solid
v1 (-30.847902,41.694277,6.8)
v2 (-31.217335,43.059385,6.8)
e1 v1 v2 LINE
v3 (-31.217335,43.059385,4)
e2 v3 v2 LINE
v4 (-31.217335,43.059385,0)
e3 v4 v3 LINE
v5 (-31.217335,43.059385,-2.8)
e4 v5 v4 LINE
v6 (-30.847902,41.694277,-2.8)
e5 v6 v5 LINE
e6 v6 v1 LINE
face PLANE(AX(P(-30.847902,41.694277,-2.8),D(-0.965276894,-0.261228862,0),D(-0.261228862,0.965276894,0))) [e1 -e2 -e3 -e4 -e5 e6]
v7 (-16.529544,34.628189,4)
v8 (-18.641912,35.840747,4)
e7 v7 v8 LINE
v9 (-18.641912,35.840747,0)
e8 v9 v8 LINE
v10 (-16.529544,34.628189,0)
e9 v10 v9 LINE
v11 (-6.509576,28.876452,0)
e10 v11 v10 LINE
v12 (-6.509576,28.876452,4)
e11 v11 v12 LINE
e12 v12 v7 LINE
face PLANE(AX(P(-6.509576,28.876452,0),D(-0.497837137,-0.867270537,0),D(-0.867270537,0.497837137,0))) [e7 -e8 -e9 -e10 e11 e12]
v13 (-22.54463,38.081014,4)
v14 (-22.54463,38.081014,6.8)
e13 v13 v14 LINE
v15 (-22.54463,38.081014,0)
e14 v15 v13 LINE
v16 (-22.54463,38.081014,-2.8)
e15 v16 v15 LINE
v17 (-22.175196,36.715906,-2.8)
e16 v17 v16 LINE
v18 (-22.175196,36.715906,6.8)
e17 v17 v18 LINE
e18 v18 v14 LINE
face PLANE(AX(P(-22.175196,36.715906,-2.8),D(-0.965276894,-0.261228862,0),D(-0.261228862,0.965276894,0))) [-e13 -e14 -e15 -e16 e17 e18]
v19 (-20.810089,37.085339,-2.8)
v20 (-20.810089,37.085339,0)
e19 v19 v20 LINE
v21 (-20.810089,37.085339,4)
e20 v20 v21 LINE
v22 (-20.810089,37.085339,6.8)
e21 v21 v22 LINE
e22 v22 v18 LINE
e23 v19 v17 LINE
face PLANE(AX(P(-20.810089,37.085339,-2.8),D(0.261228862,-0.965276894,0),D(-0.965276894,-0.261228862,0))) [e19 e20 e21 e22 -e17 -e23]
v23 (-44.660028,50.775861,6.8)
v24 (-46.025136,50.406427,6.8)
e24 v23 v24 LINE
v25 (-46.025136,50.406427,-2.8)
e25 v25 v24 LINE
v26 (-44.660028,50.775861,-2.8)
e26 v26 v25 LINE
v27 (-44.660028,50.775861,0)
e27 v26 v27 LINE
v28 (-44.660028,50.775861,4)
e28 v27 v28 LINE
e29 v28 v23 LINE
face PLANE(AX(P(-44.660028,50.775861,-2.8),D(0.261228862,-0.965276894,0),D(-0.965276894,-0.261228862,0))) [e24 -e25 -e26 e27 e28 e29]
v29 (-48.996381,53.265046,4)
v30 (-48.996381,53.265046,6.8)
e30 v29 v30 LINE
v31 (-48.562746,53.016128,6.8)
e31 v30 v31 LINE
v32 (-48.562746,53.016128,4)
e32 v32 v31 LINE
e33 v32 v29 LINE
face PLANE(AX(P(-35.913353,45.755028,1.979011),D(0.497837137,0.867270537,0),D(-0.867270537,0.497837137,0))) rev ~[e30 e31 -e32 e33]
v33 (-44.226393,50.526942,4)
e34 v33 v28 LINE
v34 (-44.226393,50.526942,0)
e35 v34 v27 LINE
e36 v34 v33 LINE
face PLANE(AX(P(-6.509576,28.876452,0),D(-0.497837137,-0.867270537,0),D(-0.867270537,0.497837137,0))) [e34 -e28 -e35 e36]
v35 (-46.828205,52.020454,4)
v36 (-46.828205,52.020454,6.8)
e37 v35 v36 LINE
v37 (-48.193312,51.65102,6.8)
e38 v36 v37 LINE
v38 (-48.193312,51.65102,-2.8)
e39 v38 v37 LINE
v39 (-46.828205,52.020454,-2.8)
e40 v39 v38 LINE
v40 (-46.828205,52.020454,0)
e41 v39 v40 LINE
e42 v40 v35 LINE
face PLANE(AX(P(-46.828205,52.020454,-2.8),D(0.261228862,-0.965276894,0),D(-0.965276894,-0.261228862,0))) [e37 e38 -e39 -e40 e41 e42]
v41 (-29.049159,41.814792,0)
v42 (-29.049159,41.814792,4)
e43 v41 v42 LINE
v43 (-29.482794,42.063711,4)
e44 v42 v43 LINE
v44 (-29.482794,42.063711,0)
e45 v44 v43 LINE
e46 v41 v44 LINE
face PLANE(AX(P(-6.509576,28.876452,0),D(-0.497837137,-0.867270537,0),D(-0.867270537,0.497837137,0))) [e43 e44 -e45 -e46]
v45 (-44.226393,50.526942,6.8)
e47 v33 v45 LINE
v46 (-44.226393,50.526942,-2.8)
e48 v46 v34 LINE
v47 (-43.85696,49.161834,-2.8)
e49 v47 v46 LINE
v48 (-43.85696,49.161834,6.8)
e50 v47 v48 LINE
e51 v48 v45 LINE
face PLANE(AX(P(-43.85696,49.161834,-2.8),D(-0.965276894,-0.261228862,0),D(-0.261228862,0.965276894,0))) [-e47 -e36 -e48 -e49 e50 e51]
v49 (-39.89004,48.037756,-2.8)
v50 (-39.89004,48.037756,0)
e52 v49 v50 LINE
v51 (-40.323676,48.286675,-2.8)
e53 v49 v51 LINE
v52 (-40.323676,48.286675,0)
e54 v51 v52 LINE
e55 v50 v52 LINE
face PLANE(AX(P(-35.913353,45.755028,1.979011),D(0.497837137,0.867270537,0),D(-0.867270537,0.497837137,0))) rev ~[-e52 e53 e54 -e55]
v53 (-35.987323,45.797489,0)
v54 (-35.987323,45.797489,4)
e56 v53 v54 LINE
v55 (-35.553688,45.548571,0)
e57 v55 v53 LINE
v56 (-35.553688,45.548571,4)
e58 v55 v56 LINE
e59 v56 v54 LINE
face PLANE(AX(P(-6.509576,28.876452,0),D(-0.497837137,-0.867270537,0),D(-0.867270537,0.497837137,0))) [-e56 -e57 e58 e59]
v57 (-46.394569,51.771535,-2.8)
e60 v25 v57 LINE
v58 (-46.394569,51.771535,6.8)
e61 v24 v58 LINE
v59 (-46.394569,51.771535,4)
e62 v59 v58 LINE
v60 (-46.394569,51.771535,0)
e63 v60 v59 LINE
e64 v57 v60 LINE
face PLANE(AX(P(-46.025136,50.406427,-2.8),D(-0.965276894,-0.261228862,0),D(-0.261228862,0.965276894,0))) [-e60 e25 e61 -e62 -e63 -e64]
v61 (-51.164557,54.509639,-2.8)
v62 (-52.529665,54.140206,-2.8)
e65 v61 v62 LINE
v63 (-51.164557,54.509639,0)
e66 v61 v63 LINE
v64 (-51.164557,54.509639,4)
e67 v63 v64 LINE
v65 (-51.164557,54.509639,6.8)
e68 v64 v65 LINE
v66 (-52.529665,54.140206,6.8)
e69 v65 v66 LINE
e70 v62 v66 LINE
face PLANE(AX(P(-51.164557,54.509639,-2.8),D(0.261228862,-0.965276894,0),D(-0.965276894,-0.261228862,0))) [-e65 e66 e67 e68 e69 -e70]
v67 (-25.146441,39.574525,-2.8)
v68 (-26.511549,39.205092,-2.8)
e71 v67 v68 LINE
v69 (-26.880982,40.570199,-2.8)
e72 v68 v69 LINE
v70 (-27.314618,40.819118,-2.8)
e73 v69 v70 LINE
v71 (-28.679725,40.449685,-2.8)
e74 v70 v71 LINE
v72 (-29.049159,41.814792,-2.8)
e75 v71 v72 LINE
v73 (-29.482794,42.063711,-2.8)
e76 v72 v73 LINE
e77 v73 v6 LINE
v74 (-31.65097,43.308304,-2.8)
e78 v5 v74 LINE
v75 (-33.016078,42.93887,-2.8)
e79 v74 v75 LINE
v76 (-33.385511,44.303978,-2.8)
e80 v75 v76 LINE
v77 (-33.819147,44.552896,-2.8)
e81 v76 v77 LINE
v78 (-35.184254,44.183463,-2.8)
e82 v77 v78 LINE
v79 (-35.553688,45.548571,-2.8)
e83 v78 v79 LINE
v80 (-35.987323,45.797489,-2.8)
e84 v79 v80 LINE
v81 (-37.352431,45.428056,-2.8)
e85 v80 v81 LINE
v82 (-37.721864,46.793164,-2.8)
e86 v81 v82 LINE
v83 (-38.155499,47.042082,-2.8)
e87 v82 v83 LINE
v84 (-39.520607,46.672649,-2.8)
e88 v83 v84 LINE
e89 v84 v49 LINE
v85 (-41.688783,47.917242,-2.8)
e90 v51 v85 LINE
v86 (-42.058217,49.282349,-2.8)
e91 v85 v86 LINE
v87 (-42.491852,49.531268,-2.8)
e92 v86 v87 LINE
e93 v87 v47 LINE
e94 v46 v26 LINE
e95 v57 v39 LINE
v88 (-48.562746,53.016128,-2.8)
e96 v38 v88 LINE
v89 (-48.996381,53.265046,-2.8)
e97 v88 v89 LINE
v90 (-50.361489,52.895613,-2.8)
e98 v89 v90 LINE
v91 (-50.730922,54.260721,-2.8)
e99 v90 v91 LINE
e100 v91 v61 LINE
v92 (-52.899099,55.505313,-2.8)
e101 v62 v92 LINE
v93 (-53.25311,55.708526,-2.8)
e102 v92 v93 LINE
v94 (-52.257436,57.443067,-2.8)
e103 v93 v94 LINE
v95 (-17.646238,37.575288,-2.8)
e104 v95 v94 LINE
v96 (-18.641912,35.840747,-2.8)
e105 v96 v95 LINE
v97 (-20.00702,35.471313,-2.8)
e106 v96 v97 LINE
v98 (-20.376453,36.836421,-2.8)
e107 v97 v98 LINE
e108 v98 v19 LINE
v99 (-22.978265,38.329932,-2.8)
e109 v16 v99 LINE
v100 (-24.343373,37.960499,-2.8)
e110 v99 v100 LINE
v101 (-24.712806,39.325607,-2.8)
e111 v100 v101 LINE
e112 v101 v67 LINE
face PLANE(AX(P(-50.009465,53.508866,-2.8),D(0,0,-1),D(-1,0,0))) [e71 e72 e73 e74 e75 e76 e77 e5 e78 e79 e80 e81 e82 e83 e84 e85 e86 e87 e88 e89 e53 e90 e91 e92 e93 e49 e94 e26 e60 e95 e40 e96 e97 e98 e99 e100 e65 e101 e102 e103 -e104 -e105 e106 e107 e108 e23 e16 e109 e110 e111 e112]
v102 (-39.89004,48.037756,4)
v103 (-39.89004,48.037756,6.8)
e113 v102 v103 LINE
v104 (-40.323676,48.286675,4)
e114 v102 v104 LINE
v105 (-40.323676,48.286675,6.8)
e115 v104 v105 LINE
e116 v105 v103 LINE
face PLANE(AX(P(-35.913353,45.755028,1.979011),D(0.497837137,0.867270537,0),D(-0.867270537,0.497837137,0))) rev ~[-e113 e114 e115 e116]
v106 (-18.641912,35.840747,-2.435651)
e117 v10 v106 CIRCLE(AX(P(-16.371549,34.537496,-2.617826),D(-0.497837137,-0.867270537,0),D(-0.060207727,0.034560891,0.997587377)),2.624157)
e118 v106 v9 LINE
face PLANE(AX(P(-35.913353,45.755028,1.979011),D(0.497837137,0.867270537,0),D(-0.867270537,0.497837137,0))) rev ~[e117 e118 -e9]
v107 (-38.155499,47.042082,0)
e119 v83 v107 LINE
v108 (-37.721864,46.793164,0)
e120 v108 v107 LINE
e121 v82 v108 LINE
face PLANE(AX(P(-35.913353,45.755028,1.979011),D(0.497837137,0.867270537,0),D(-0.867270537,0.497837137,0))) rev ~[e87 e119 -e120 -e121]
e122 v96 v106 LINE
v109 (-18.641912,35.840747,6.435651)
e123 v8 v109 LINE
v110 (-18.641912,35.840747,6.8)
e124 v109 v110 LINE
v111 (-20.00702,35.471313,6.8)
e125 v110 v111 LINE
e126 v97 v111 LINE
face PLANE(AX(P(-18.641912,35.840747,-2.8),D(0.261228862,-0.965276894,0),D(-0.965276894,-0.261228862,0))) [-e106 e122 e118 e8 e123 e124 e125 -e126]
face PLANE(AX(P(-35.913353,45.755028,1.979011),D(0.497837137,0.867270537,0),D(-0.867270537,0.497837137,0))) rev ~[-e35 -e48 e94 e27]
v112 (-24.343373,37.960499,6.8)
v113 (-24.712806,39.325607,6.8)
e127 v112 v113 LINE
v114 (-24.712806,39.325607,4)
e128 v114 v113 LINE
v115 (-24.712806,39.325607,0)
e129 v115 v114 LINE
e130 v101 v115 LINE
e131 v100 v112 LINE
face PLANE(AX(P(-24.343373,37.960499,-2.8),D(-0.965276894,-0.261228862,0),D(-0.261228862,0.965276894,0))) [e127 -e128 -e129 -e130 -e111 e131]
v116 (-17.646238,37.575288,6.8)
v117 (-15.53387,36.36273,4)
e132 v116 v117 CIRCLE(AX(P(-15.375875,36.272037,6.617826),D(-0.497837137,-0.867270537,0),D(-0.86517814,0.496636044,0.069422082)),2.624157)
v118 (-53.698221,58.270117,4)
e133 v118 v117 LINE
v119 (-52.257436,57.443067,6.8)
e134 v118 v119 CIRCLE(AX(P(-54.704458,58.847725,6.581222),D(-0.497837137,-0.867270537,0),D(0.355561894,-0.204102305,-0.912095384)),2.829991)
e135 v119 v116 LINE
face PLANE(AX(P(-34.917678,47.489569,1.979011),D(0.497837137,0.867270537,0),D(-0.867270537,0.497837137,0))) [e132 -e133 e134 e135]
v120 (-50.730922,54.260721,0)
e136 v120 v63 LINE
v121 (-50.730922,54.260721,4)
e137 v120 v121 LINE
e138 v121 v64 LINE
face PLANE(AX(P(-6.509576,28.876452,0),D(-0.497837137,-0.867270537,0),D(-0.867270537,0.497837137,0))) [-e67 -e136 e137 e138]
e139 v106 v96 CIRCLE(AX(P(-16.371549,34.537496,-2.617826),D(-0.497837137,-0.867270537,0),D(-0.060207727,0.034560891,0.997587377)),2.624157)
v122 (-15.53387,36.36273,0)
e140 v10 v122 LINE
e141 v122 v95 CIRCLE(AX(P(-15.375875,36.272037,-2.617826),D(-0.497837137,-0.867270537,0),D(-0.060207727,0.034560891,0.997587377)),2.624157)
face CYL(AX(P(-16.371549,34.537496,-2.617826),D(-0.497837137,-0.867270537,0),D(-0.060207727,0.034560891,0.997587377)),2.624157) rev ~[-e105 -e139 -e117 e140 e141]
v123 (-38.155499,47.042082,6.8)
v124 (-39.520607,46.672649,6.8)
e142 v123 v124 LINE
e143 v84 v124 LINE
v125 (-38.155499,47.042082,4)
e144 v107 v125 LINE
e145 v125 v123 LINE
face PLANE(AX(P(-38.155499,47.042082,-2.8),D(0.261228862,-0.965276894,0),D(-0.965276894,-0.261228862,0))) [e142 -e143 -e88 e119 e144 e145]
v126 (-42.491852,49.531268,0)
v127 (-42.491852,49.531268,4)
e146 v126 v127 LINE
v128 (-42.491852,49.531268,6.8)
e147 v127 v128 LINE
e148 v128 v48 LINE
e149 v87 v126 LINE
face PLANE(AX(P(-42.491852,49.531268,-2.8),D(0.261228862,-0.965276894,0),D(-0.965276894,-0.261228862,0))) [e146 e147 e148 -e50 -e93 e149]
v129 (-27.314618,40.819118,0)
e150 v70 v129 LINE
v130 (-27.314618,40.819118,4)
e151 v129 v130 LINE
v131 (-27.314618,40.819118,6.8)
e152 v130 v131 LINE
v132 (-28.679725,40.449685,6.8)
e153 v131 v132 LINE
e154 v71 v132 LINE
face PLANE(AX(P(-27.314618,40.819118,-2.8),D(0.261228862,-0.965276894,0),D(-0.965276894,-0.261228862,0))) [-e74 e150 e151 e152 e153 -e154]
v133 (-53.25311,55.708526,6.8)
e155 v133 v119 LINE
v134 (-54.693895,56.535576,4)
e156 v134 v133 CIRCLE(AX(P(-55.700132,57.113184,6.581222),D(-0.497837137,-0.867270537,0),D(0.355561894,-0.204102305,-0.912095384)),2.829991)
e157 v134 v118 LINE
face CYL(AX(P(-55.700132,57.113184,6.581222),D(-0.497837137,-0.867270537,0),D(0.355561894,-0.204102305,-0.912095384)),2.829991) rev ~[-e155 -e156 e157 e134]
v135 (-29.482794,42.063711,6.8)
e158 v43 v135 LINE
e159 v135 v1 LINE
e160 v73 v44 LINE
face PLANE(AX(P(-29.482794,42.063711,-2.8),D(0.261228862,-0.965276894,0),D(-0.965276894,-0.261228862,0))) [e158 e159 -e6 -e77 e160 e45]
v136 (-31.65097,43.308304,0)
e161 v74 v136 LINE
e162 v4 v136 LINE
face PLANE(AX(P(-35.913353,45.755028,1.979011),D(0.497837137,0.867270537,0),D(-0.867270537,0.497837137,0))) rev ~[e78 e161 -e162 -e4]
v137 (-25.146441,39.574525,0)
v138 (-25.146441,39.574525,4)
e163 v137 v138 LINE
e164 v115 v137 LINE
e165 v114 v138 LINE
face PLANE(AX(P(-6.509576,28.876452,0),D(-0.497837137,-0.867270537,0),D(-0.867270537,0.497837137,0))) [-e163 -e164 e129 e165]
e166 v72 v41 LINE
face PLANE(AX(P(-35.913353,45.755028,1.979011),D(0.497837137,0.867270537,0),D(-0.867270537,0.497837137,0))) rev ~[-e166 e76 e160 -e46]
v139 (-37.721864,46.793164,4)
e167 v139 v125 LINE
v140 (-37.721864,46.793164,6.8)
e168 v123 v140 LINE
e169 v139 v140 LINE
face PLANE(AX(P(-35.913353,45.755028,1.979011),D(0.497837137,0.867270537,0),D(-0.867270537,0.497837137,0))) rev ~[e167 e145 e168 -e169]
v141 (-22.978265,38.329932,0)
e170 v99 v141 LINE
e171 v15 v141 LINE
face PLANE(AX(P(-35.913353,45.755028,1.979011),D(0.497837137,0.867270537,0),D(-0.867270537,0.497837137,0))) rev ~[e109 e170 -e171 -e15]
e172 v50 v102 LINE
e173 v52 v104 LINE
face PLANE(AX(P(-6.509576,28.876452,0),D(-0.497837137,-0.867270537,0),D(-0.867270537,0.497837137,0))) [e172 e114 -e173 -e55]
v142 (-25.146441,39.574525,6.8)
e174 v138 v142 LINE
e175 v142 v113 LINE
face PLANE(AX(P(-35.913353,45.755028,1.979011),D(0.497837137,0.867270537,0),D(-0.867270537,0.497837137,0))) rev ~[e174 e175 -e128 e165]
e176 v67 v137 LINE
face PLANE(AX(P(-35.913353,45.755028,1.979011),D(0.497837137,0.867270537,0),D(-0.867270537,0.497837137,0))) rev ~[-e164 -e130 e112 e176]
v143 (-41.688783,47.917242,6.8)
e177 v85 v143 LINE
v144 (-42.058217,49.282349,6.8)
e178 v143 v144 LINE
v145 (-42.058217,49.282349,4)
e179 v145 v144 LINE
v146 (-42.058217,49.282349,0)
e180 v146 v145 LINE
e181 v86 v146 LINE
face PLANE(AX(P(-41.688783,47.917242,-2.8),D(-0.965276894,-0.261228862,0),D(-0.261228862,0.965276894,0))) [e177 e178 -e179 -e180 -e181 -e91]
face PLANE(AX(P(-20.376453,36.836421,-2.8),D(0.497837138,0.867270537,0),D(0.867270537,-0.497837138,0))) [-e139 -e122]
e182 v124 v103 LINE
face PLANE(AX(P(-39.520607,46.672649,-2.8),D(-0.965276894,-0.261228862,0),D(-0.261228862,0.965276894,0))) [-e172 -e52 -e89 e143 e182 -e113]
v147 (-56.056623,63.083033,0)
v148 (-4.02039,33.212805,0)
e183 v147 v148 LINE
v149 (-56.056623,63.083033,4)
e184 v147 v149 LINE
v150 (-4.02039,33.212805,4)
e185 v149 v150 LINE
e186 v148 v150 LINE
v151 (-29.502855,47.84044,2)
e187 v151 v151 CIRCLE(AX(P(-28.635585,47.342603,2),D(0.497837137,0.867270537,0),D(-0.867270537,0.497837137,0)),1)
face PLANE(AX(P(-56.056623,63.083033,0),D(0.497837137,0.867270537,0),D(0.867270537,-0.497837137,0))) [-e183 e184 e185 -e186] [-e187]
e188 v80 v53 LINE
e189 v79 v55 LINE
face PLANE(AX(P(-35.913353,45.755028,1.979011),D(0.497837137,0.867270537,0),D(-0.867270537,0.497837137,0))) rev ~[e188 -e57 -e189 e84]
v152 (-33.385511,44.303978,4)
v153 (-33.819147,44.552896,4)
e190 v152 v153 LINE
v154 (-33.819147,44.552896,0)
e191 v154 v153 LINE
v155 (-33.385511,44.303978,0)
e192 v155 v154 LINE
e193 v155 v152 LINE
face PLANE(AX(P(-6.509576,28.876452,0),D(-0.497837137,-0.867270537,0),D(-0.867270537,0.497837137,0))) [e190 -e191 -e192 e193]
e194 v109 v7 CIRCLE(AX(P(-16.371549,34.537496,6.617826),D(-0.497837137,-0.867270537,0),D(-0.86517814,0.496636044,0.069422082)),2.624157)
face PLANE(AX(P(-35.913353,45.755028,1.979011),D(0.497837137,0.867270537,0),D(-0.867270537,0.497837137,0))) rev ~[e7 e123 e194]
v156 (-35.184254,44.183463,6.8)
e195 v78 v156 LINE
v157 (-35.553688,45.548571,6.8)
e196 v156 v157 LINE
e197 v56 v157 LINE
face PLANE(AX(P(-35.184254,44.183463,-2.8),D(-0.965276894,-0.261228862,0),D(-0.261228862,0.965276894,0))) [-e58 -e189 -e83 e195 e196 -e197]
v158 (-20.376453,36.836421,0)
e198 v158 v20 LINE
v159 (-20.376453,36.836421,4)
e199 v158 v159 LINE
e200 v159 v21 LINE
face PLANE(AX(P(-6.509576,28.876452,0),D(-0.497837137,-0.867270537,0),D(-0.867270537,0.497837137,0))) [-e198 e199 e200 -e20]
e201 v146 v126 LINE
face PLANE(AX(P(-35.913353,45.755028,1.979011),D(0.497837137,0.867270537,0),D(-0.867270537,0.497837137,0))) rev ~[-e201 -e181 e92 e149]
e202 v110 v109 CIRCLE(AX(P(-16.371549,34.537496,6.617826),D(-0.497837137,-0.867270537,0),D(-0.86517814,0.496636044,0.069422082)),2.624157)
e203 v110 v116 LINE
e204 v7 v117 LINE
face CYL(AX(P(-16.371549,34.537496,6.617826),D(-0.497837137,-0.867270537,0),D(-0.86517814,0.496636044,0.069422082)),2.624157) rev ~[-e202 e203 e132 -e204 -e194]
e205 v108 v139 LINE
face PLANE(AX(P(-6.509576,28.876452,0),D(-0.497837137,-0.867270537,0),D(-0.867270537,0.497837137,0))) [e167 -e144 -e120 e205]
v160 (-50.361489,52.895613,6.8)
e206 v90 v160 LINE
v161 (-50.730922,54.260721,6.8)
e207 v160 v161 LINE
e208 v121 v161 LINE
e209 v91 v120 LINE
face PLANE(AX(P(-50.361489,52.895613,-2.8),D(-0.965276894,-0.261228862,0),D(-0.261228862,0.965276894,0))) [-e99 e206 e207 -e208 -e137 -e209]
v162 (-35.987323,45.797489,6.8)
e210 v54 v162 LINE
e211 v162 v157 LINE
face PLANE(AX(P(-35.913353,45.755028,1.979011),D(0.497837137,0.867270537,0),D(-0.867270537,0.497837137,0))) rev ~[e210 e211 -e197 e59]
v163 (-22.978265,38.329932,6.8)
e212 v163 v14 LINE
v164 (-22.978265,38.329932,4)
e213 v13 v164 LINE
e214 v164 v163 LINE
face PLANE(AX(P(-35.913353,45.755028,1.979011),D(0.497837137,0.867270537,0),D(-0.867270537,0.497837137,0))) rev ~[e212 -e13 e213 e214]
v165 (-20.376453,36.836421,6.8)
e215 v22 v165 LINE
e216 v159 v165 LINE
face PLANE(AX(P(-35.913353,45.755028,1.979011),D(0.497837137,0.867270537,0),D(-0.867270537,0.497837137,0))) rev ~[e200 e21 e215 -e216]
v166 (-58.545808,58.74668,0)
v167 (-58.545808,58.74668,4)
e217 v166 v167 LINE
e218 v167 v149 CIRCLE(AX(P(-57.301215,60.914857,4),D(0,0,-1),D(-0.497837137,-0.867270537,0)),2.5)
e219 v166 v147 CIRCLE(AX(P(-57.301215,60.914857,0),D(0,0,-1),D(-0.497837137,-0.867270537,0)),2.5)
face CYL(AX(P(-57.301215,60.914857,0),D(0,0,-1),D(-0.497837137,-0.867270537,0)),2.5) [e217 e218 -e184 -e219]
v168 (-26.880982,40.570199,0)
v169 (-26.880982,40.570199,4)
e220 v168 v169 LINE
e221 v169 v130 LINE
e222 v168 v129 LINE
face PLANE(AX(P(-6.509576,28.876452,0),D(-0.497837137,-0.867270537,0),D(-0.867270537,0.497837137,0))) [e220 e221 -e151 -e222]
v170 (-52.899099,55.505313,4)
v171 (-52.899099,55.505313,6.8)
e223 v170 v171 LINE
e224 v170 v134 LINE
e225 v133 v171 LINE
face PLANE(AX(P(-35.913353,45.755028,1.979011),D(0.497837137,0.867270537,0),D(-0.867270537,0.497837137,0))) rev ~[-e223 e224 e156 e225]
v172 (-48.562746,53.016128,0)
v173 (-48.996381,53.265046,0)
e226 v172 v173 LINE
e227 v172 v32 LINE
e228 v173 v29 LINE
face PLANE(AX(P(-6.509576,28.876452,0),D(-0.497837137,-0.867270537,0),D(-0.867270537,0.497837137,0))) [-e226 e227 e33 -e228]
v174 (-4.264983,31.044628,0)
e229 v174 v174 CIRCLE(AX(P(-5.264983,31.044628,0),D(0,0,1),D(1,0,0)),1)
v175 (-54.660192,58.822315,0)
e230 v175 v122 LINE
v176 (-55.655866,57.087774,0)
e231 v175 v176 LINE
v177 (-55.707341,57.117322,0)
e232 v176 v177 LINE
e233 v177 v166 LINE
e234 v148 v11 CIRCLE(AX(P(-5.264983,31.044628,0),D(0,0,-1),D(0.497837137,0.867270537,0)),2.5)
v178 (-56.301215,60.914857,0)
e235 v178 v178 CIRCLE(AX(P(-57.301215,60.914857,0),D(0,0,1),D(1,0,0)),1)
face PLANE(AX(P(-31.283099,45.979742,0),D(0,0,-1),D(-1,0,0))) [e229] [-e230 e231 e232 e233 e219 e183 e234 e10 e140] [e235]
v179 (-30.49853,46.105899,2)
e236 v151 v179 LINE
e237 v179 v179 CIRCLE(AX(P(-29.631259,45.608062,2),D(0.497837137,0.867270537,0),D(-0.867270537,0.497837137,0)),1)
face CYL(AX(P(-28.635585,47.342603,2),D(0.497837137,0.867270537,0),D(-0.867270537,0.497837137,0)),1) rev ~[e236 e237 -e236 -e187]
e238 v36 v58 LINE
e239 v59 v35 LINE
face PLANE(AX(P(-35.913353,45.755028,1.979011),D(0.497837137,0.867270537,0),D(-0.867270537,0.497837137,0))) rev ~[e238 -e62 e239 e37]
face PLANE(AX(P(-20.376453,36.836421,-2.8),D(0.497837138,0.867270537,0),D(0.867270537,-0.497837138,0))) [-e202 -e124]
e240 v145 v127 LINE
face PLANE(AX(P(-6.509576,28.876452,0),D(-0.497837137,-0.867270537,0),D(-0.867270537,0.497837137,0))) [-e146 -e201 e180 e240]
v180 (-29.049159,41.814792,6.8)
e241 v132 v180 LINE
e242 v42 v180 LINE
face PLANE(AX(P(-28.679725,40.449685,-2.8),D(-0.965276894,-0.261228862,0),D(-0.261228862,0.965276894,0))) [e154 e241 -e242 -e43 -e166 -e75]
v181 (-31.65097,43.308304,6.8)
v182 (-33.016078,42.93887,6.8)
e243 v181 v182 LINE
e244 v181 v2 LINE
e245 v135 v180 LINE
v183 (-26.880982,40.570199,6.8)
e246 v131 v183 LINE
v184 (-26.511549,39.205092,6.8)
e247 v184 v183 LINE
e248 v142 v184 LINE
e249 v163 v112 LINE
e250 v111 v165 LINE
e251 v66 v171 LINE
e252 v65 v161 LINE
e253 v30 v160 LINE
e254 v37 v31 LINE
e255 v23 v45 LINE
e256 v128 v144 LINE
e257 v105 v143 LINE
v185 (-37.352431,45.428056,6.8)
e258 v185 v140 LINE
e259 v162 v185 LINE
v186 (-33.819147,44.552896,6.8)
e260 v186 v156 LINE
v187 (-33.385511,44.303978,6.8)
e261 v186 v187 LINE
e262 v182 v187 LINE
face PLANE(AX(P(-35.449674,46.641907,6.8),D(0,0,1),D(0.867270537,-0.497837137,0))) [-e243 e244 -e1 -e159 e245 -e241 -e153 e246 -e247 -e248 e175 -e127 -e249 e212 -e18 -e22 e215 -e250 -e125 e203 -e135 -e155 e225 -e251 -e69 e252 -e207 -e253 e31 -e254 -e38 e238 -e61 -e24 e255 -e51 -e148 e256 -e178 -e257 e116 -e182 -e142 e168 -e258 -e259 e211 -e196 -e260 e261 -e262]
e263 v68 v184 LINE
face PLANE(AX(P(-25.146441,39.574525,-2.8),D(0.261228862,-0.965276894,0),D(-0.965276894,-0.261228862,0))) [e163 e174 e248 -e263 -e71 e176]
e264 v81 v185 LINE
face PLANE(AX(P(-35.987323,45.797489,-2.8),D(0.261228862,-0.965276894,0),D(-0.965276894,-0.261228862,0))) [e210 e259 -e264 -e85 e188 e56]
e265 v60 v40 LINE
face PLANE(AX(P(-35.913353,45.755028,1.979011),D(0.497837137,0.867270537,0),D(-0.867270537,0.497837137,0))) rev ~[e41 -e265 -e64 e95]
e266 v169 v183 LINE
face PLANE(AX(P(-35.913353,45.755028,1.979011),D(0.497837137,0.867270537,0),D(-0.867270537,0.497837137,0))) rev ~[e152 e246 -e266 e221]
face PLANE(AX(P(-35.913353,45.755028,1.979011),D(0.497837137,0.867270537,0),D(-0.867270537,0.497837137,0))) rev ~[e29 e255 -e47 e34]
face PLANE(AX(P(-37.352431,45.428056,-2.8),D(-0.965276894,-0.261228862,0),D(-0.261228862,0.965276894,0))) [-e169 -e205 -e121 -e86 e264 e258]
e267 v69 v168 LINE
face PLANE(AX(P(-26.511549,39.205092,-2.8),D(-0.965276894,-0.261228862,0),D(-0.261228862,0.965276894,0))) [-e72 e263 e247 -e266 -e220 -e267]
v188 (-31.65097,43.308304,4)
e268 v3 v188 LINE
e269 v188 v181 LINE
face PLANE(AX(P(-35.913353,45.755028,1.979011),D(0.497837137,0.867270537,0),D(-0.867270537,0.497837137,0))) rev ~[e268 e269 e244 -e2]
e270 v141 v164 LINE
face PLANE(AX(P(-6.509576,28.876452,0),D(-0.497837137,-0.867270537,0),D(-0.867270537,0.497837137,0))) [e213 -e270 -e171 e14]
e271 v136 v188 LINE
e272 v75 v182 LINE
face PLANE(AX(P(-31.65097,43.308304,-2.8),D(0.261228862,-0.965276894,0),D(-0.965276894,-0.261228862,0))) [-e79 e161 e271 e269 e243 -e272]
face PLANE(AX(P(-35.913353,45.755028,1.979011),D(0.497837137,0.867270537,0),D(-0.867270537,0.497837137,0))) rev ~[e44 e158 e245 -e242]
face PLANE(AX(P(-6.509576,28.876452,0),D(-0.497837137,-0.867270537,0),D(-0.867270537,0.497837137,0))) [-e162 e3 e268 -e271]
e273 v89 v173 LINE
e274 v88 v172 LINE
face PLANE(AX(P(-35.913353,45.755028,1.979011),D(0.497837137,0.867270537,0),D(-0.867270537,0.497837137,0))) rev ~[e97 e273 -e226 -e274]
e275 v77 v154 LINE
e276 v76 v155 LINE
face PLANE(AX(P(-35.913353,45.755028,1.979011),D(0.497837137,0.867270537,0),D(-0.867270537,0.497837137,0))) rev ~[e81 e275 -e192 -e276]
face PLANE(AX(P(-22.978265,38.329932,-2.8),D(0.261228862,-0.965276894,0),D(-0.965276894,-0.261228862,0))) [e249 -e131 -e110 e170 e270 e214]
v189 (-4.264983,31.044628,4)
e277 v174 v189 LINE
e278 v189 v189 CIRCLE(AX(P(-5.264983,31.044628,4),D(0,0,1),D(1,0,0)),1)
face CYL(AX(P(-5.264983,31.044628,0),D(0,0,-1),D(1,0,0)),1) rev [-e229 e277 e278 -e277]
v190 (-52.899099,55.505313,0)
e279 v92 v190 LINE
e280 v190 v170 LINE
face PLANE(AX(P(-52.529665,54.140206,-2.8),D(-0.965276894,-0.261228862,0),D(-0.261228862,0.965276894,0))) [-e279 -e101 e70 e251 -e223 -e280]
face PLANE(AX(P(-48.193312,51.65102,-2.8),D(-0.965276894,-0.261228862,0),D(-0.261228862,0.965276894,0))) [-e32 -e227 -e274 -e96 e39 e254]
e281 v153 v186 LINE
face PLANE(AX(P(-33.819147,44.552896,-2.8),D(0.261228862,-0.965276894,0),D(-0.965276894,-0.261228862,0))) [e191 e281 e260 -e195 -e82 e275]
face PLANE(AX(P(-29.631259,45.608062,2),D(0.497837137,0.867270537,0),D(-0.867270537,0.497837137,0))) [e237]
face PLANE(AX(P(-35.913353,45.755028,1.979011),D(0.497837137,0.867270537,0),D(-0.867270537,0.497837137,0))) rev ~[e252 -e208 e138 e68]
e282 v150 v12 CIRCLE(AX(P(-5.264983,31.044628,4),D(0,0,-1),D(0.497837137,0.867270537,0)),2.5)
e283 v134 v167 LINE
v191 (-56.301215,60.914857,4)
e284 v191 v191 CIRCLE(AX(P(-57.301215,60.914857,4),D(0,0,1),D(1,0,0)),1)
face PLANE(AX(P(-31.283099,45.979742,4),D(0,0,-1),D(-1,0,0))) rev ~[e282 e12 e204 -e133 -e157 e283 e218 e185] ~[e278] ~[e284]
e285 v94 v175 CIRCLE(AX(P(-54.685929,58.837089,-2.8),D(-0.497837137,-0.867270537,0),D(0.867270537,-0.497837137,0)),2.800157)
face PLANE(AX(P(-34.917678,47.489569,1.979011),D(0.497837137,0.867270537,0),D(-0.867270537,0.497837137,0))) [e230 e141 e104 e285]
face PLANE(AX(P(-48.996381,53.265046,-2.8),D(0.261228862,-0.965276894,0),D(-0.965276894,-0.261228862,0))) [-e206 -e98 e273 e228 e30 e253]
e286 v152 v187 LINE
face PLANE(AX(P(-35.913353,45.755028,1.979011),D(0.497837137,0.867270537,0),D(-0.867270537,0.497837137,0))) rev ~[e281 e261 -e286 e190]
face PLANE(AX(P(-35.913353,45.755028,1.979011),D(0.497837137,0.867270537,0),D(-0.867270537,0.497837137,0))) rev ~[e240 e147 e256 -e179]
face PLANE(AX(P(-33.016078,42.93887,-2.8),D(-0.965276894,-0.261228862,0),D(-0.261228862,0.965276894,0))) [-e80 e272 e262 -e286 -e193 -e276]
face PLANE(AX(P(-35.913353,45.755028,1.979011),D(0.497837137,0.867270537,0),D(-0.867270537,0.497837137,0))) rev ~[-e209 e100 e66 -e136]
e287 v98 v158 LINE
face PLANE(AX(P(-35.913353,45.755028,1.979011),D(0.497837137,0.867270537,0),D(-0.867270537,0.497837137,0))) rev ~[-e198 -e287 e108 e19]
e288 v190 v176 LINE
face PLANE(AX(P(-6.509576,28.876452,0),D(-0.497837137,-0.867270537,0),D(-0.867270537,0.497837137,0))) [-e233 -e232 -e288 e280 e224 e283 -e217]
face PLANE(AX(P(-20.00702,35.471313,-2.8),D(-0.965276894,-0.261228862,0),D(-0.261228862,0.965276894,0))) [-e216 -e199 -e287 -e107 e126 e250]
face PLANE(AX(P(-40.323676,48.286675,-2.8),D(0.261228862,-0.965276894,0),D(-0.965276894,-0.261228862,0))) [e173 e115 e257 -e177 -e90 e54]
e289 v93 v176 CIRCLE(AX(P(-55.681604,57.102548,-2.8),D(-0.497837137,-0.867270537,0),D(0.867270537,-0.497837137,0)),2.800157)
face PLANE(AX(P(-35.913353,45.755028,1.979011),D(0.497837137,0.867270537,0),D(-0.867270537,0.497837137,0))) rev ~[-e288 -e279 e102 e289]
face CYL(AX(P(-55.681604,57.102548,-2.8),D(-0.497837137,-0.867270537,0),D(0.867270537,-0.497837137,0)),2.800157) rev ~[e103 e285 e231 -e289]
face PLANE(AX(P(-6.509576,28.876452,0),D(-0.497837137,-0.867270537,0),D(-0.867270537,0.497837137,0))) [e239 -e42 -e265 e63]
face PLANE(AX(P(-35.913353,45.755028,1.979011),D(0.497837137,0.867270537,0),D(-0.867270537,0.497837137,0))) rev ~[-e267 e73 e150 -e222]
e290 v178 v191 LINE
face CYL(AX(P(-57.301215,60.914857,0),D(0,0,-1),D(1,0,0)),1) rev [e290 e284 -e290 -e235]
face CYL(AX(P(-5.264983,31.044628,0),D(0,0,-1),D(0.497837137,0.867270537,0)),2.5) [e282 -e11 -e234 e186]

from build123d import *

# Parameters (mm, degrees)
SKETCH1_R           = 1
BOSS_EXTRUDE1_DEPTH = 4
SKETCH2_R           = 1
CUT_EXTRUDE1_DEPTH  = 2
BOSS_EXTRUDE2_DEPTH = 2
BOSS_EXTRUDE3_REACH = 89.691


with BuildPart() as part:
    # Sketch1 → Boss-Extrude1 (new body)
    with BuildSketch(Plane.XY):
        with BuildLine():
            Line((-56.056622595, 63.083032854), (-4.020390364, 33.212804613))
            ThreePointArc((-4.020390364, 33.212804613), (-3.096806864, 29.800035426), (-6.509576051, 28.876451927))
            Line((-6.509576051, 28.876451927), (-58.545808282, 58.746680168))
            ThreePointArc((-58.545808282, 58.746680168), (-59.469391781, 62.159449355), (-56.056622595, 63.083032854))
        make_face()
        with Locations((-57.301215438, 60.914856511)):
            Circle(SKETCH1_R, mode=Mode.SUBTRACT)
        with Locations((-5.264983207, 31.04462827)):
            Circle(SKETCH1_R, mode=Mode.SUBTRACT)
    extrude(amount=BOSS_EXTRUDE1_DEPTH)

    # Sketch2 → Cut-Extrude1 (cut)
    with BuildSketch(Plane(origin=(13.343522454, 23.245441166, 0), x_dir=(0.8672705371832455, -0.49783713735908147, 0), z_dir=(0.49783713735908147, 0.8672705371832455, 0))):
        with Locations(Location((-48.403705156, -2, 0), (0, 0, 180))):
            Circle(SKETCH2_R)
    extrude(amount=-CUT_EXTRUDE1_DEPTH, mode=Mode.SUBTRACT)

    # Sketch4 → Boss-Extrude2 (add)
    with BuildSketch(Plane(origin=(10.854336767, 18.90908848, 0), x_dir=(0.8672705371832455, -0.49783713735908136, 0), z_dir=(-0.49783713735908136, -0.8672705371832455, 0))):
        with BuildLine():
            Line((-73.918626185, 6.8), (-34.010435963, 6.8))
            ThreePointArc((-34.010435963, 6.8), (-33.372509372, 4.895560129), (-31.574784807, 4))
            Line((-31.574784807, 4), (-31.574784807, 0))
            ThreePointArc((-31.574784807, 0), (-33.372509372, -0.895560129), (-34.010435963, -2.8))
            Line((-34.010435963, -2.8), (-73.918626185, -2.8))
            ThreePointArc((-73.918626185, -2.8), (-74.749293349, -0.809525322), (-76.748459708, 0))
            Line((-76.748459708, 0), (-75.579913588, 4))
            ThreePointArc((-75.579913588, 4), (-74.306304145, 5.137180927), (-73.918626185, 6.8))
        make_face()
    extrude(amount=-BOSS_EXTRUDE2_DEPTH)

    # Boss-Extrude3: up to this face of the body (flat: up to its plane)
    boss_extrude3_end = Plane(part.part.faces().sort_by_distance((-35.449673949, 46.641906686, 6.8))[0])
    # Sketch5 → Boss-Extrude3 (add, up to the picked face)
    with BuildSketch(Plane(origin=(0, 0, -2.8), x_dir=(-1, 0, 0), z_dir=(0, 0, -1)), mode=Mode.PRIVATE) as boss_extrude3_sk1:
        Polygon((52.899098519, 55.505313486), (51.164557445, 54.509639211), (52.529665119, 54.140205811), align=None)
    boss_extrude3_tool1 = split(extrude(boss_extrude3_sk1.sketch, amount=-BOSS_EXTRUDE3_REACH, mode=Mode.PRIVATE), bisect_by=boss_extrude3_end, keep=Keep.BOTH, mode=Mode.PRIVATE)
    # Sketch5 → Boss-Extrude3 (add, up to the picked face)
    with BuildSketch(Plane(origin=(0, 0, -2.8), x_dir=(-1, 0, 0), z_dir=(0, 0, -1)), mode=Mode.PRIVATE) as boss_extrude3_sk2:
        Polygon((18.6419123, 35.84074656), (20.007019975, 35.47131316), (20.376453374, 36.836420835), align=None)
    boss_extrude3_tool2 = split(extrude(boss_extrude3_sk2.sketch, amount=-BOSS_EXTRUDE3_REACH, mode=Mode.PRIVATE), bisect_by=boss_extrude3_end, keep=Keep.BOTH, mode=Mode.PRIVATE)
    # Sketch5 → Boss-Extrude3 (add, up to the picked face)
    with BuildSketch(Plane(origin=(0, 0, -2.8), x_dir=(-1, 0, 0), z_dir=(0, 0, -1)), mode=Mode.PRIVATE) as boss_extrude3_sk3:
        Polygon((20.810088643, 37.085339404), (22.175196318, 36.715906004), (22.544629717, 38.081013678), align=None)
    boss_extrude3_tool3 = split(extrude(boss_extrude3_sk3.sketch, amount=-BOSS_EXTRUDE3_REACH, mode=Mode.PRIVATE), bisect_by=boss_extrude3_end, keep=Keep.BOTH, mode=Mode.PRIVATE)
    # Sketch5 → Boss-Extrude3 (add, up to the picked face)
    with BuildSketch(Plane(origin=(0, 0, -2.8), x_dir=(-1, 0, 0), z_dir=(0, 0, -1)), mode=Mode.PRIVATE) as boss_extrude3_sk4:
        Polygon((22.978264986, 38.329932247), (24.343372661, 37.960498847), (24.71280606, 39.325606522), align=None)
    boss_extrude3_tool4 = split(extrude(boss_extrude3_sk4.sketch, amount=-BOSS_EXTRUDE3_REACH, mode=Mode.PRIVATE), bisect_by=boss_extrude3_end, keep=Keep.BOTH, mode=Mode.PRIVATE)
    # Sketch5 → Boss-Extrude3 (add, up to the picked face)
    with BuildSketch(Plane(origin=(0, 0, -2.8), x_dir=(-1, 0, 0), z_dir=(0, 0, -1)), mode=Mode.PRIVATE) as boss_extrude3_sk5:
        Polygon((25.146441329, 39.57452509), (26.511549004, 39.205091691), (26.880982403, 40.570199365), align=None)
    boss_extrude3_tool5 = split(extrude(boss_extrude3_sk5.sketch, amount=-BOSS_EXTRUDE3_REACH, mode=Mode.PRIVATE), bisect_by=boss_extrude3_end, keep=Keep.BOTH, mode=Mode.PRIVATE)
    # Sketch5 → Boss-Extrude3 (add, up to the picked face)
    with BuildSketch(Plane(origin=(0, 0, -2.8), x_dir=(-1, 0, 0), z_dir=(0, 0, -1)), mode=Mode.PRIVATE) as boss_extrude3_sk6:
        Polygon((27.314617672, 40.819117934), (28.679725347, 40.449684534), (29.049158746, 41.814792208), align=None)
    boss_extrude3_tool6 = split(extrude(boss_extrude3_sk6.sketch, amount=-BOSS_EXTRUDE3_REACH, mode=Mode.PRIVATE), bisect_by=boss_extrude3_end, keep=Keep.BOTH, mode=Mode.PRIVATE)
    # Sketch5 → Boss-Extrude3 (add, up to the picked face)
    with BuildSketch(Plane(origin=(0, 0, -2.8), x_dir=(-1, 0, 0), z_dir=(0, 0, -1)), mode=Mode.PRIVATE) as boss_extrude3_sk7:
        Polygon((29.482794015, 42.063710777), (30.847901689, 41.694277377), (31.217335089, 43.059385052), align=None)
    boss_extrude3_tool7 = split(extrude(boss_extrude3_sk7.sketch, amount=-BOSS_EXTRUDE3_REACH, mode=Mode.PRIVATE), bisect_by=boss_extrude3_end, keep=Keep.BOTH, mode=Mode.PRIVATE)
    # Sketch5 → Boss-Extrude3 (add, up to the picked face)
    with BuildSketch(Plane(origin=(0, 0, -2.8), x_dir=(-1, 0, 0), z_dir=(0, 0, -1)), mode=Mode.PRIVATE) as boss_extrude3_sk8:
        Polygon((31.650970358, 43.308303621), (33.016078032, 42.938870221), (33.385511432, 44.303977895), align=None)
    boss_extrude3_tool8 = split(extrude(boss_extrude3_sk8.sketch, amount=-BOSS_EXTRUDE3_REACH, mode=Mode.PRIVATE), bisect_by=boss_extrude3_end, keep=Keep.BOTH, mode=Mode.PRIVATE)
    # Sketch5 → Boss-Extrude3 (add, up to the picked face)
    with BuildSketch(Plane(origin=(0, 0, -2.8), x_dir=(-1, 0, 0), z_dir=(0, 0, -1)), mode=Mode.PRIVATE) as boss_extrude3_sk9:
        Polygon((33.819146701, 44.552896464), (35.184254375, 44.183463064), (35.553687775, 45.548570739), align=None)
    boss_extrude3_tool9 = split(extrude(boss_extrude3_sk9.sketch, amount=-BOSS_EXTRUDE3_REACH, mode=Mode.PRIVATE), bisect_by=boss_extrude3_end, keep=Keep.BOTH, mode=Mode.PRIVATE)
    # Sketch5 → Boss-Extrude3 (add, up to the picked face)
    with BuildSketch(Plane(origin=(0, 0, -2.8), x_dir=(-1, 0, 0), z_dir=(0, 0, -1)), mode=Mode.PRIVATE) as boss_extrude3_sk10:
        Polygon((35.987323044, 45.797489307), (37.352430718, 45.428055908), (37.721864118, 46.793163582), align=None)
    boss_extrude3_tool10 = split(extrude(boss_extrude3_sk10.sketch, amount=-BOSS_EXTRUDE3_REACH, mode=Mode.PRIVATE), bisect_by=boss_extrude3_end, keep=Keep.BOTH, mode=Mode.PRIVATE)
    # Sketch5 → Boss-Extrude3 (add, up to the picked face)
    with BuildSketch(Plane(origin=(0, 0, -2.8), x_dir=(-1, 0, 0), z_dir=(0, 0, -1)), mode=Mode.PRIVATE) as boss_extrude3_sk11:
        Polygon((38.155499387, 47.042082151), (39.520607061, 46.672648751), (39.890040461, 48.037756425), align=None)
    boss_extrude3_tool11 = split(extrude(boss_extrude3_sk11.sketch, amount=-BOSS_EXTRUDE3_REACH, mode=Mode.PRIVATE), bisect_by=boss_extrude3_end, keep=Keep.BOTH, mode=Mode.PRIVATE)
    # Sketch5 → Boss-Extrude3 (add, up to the picked face)
    with BuildSketch(Plane(origin=(0, 0, -2.8), x_dir=(-1, 0, 0), z_dir=(0, 0, -1)), mode=Mode.PRIVATE) as boss_extrude3_sk12:
        Polygon((40.32367573, 48.286674994), (41.688783404, 47.917241594), (42.058216804, 49.282349269), align=None)
    boss_extrude3_tool12 = split(extrude(boss_extrude3_sk12.sketch, amount=-BOSS_EXTRUDE3_REACH, mode=Mode.PRIVATE), bisect_by=boss_extrude3_end, keep=Keep.BOTH, mode=Mode.PRIVATE)
    # Sketch5 → Boss-Extrude3 (add, up to the picked face)
    with BuildSketch(Plane(origin=(0, 0, -2.8), x_dir=(-1, 0, 0), z_dir=(0, 0, -1)), mode=Mode.PRIVATE) as boss_extrude3_sk13:
        Polygon((42.491852073, 49.531267838), (43.856959747, 49.161834438), (44.226393147, 50.526942112), align=None)
    boss_extrude3_tool13 = split(extrude(boss_extrude3_sk13.sketch, amount=-BOSS_EXTRUDE3_REACH, mode=Mode.PRIVATE), bisect_by=boss_extrude3_end, keep=Keep.BOTH, mode=Mode.PRIVATE)
    # Sketch5 → Boss-Extrude3 (add, up to the picked face)
    with BuildSketch(Plane(origin=(0, 0, -2.8), x_dir=(-1, 0, 0), z_dir=(0, 0, -1)), mode=Mode.PRIVATE) as boss_extrude3_sk14:
        Polygon((44.660028416, 50.775860681), (46.02513609, 50.406427281), (46.39456949, 51.771534956), align=None)
    boss_extrude3_tool14 = split(extrude(boss_extrude3_sk14.sketch, amount=-BOSS_EXTRUDE3_REACH, mode=Mode.PRIVATE), bisect_by=boss_extrude3_end, keep=Keep.BOTH, mode=Mode.PRIVATE)
    # Sketch5 → Boss-Extrude3 (add, up to the picked face)
    with BuildSketch(Plane(origin=(0, 0, -2.8), x_dir=(-1, 0, 0), z_dir=(0, 0, -1)), mode=Mode.PRIVATE) as boss_extrude3_sk15:
        Polygon((46.828204759, 52.020453524), (48.193312433, 51.651020125), (48.562745833, 53.016127799), align=None)
    boss_extrude3_tool15 = split(extrude(boss_extrude3_sk15.sketch, amount=-BOSS_EXTRUDE3_REACH, mode=Mode.PRIVATE), bisect_by=boss_extrude3_end, keep=Keep.BOTH, mode=Mode.PRIVATE)
    # Sketch5 → Boss-Extrude3 (add, up to the picked face)
    with BuildSketch(Plane(origin=(0, 0, -2.8), x_dir=(-1, 0, 0), z_dir=(0, 0, -1)), mode=Mode.PRIVATE) as boss_extrude3_sk16:
        Polygon((48.996381102, 53.265046368), (50.361488776, 52.895612968), (50.730922176, 54.260720642), align=None)
    boss_extrude3_tool16 = split(extrude(boss_extrude3_sk16.sketch, amount=-BOSS_EXTRUDE3_REACH, mode=Mode.PRIVATE), bisect_by=boss_extrude3_end, keep=Keep.BOTH, mode=Mode.PRIVATE)
    add(boss_extrude3_tool1.solids().sort_by(Axis((-52.197774, 54.718386, -2.8), (0, 0, 1)))[0])
    add(boss_extrude3_tool2.solids().sort_by(Axis((-19.675129, 36.049494, -2.8), (0, 0, 1)))[0])
    add(boss_extrude3_tool3.solids().sort_by(Axis((-21.843305, 37.294086, -2.8), (0, 0, 1)))[0])
    add(boss_extrude3_tool4.solids().sort_by(Axis((-24.011481, 38.538679, -2.8), (0, 0, 1)))[0])
    add(boss_extrude3_tool5.solids().sort_by(Axis((-26.179658, 39.783272, -2.8), (0, 0, 1)))[0])
    add(boss_extrude3_tool6.solids().sort_by(Axis((-28.347834, 41.027865, -2.8), (0, 0, 1)))[0])
    add(boss_extrude3_tool7.solids().sort_by(Axis((-30.51601, 42.272458, -2.8), (0, 0, 1)))[0])
    add(boss_extrude3_tool8.solids().sort_by(Axis((-32.684187, 43.517051, -2.8), (0, 0, 1)))[0])
    add(boss_extrude3_tool9.solids().sort_by(Axis((-34.852363, 44.761643, -2.8), (0, 0, 1)))[0])
    add(boss_extrude3_tool10.solids().sort_by(Axis((-37.020539, 46.006236, -2.8), (0, 0, 1)))[0])
    add(boss_extrude3_tool11.solids().sort_by(Axis((-39.188716, 47.250829, -2.8), (0, 0, 1)))[0])
    add(boss_extrude3_tool12.solids().sort_by(Axis((-41.356892, 48.495422, -2.8), (0, 0, 1)))[0])
    add(boss_extrude3_tool13.solids().sort_by(Axis((-43.525068, 49.740015, -2.8), (0, 0, 1)))[0])
    add(boss_extrude3_tool14.solids().sort_by(Axis((-45.693245, 50.984608, -2.8), (0, 0, 1)))[0])
    add(boss_extrude3_tool15.solids().sort_by(Axis((-47.861421, 52.2292, -2.8), (0, 0, 1)))[0])
    add(boss_extrude3_tool16.solids().sort_by(Axis((-50.029597, 53.473793, -2.8), (0, 0, 1)))[0])


solid = part.part
